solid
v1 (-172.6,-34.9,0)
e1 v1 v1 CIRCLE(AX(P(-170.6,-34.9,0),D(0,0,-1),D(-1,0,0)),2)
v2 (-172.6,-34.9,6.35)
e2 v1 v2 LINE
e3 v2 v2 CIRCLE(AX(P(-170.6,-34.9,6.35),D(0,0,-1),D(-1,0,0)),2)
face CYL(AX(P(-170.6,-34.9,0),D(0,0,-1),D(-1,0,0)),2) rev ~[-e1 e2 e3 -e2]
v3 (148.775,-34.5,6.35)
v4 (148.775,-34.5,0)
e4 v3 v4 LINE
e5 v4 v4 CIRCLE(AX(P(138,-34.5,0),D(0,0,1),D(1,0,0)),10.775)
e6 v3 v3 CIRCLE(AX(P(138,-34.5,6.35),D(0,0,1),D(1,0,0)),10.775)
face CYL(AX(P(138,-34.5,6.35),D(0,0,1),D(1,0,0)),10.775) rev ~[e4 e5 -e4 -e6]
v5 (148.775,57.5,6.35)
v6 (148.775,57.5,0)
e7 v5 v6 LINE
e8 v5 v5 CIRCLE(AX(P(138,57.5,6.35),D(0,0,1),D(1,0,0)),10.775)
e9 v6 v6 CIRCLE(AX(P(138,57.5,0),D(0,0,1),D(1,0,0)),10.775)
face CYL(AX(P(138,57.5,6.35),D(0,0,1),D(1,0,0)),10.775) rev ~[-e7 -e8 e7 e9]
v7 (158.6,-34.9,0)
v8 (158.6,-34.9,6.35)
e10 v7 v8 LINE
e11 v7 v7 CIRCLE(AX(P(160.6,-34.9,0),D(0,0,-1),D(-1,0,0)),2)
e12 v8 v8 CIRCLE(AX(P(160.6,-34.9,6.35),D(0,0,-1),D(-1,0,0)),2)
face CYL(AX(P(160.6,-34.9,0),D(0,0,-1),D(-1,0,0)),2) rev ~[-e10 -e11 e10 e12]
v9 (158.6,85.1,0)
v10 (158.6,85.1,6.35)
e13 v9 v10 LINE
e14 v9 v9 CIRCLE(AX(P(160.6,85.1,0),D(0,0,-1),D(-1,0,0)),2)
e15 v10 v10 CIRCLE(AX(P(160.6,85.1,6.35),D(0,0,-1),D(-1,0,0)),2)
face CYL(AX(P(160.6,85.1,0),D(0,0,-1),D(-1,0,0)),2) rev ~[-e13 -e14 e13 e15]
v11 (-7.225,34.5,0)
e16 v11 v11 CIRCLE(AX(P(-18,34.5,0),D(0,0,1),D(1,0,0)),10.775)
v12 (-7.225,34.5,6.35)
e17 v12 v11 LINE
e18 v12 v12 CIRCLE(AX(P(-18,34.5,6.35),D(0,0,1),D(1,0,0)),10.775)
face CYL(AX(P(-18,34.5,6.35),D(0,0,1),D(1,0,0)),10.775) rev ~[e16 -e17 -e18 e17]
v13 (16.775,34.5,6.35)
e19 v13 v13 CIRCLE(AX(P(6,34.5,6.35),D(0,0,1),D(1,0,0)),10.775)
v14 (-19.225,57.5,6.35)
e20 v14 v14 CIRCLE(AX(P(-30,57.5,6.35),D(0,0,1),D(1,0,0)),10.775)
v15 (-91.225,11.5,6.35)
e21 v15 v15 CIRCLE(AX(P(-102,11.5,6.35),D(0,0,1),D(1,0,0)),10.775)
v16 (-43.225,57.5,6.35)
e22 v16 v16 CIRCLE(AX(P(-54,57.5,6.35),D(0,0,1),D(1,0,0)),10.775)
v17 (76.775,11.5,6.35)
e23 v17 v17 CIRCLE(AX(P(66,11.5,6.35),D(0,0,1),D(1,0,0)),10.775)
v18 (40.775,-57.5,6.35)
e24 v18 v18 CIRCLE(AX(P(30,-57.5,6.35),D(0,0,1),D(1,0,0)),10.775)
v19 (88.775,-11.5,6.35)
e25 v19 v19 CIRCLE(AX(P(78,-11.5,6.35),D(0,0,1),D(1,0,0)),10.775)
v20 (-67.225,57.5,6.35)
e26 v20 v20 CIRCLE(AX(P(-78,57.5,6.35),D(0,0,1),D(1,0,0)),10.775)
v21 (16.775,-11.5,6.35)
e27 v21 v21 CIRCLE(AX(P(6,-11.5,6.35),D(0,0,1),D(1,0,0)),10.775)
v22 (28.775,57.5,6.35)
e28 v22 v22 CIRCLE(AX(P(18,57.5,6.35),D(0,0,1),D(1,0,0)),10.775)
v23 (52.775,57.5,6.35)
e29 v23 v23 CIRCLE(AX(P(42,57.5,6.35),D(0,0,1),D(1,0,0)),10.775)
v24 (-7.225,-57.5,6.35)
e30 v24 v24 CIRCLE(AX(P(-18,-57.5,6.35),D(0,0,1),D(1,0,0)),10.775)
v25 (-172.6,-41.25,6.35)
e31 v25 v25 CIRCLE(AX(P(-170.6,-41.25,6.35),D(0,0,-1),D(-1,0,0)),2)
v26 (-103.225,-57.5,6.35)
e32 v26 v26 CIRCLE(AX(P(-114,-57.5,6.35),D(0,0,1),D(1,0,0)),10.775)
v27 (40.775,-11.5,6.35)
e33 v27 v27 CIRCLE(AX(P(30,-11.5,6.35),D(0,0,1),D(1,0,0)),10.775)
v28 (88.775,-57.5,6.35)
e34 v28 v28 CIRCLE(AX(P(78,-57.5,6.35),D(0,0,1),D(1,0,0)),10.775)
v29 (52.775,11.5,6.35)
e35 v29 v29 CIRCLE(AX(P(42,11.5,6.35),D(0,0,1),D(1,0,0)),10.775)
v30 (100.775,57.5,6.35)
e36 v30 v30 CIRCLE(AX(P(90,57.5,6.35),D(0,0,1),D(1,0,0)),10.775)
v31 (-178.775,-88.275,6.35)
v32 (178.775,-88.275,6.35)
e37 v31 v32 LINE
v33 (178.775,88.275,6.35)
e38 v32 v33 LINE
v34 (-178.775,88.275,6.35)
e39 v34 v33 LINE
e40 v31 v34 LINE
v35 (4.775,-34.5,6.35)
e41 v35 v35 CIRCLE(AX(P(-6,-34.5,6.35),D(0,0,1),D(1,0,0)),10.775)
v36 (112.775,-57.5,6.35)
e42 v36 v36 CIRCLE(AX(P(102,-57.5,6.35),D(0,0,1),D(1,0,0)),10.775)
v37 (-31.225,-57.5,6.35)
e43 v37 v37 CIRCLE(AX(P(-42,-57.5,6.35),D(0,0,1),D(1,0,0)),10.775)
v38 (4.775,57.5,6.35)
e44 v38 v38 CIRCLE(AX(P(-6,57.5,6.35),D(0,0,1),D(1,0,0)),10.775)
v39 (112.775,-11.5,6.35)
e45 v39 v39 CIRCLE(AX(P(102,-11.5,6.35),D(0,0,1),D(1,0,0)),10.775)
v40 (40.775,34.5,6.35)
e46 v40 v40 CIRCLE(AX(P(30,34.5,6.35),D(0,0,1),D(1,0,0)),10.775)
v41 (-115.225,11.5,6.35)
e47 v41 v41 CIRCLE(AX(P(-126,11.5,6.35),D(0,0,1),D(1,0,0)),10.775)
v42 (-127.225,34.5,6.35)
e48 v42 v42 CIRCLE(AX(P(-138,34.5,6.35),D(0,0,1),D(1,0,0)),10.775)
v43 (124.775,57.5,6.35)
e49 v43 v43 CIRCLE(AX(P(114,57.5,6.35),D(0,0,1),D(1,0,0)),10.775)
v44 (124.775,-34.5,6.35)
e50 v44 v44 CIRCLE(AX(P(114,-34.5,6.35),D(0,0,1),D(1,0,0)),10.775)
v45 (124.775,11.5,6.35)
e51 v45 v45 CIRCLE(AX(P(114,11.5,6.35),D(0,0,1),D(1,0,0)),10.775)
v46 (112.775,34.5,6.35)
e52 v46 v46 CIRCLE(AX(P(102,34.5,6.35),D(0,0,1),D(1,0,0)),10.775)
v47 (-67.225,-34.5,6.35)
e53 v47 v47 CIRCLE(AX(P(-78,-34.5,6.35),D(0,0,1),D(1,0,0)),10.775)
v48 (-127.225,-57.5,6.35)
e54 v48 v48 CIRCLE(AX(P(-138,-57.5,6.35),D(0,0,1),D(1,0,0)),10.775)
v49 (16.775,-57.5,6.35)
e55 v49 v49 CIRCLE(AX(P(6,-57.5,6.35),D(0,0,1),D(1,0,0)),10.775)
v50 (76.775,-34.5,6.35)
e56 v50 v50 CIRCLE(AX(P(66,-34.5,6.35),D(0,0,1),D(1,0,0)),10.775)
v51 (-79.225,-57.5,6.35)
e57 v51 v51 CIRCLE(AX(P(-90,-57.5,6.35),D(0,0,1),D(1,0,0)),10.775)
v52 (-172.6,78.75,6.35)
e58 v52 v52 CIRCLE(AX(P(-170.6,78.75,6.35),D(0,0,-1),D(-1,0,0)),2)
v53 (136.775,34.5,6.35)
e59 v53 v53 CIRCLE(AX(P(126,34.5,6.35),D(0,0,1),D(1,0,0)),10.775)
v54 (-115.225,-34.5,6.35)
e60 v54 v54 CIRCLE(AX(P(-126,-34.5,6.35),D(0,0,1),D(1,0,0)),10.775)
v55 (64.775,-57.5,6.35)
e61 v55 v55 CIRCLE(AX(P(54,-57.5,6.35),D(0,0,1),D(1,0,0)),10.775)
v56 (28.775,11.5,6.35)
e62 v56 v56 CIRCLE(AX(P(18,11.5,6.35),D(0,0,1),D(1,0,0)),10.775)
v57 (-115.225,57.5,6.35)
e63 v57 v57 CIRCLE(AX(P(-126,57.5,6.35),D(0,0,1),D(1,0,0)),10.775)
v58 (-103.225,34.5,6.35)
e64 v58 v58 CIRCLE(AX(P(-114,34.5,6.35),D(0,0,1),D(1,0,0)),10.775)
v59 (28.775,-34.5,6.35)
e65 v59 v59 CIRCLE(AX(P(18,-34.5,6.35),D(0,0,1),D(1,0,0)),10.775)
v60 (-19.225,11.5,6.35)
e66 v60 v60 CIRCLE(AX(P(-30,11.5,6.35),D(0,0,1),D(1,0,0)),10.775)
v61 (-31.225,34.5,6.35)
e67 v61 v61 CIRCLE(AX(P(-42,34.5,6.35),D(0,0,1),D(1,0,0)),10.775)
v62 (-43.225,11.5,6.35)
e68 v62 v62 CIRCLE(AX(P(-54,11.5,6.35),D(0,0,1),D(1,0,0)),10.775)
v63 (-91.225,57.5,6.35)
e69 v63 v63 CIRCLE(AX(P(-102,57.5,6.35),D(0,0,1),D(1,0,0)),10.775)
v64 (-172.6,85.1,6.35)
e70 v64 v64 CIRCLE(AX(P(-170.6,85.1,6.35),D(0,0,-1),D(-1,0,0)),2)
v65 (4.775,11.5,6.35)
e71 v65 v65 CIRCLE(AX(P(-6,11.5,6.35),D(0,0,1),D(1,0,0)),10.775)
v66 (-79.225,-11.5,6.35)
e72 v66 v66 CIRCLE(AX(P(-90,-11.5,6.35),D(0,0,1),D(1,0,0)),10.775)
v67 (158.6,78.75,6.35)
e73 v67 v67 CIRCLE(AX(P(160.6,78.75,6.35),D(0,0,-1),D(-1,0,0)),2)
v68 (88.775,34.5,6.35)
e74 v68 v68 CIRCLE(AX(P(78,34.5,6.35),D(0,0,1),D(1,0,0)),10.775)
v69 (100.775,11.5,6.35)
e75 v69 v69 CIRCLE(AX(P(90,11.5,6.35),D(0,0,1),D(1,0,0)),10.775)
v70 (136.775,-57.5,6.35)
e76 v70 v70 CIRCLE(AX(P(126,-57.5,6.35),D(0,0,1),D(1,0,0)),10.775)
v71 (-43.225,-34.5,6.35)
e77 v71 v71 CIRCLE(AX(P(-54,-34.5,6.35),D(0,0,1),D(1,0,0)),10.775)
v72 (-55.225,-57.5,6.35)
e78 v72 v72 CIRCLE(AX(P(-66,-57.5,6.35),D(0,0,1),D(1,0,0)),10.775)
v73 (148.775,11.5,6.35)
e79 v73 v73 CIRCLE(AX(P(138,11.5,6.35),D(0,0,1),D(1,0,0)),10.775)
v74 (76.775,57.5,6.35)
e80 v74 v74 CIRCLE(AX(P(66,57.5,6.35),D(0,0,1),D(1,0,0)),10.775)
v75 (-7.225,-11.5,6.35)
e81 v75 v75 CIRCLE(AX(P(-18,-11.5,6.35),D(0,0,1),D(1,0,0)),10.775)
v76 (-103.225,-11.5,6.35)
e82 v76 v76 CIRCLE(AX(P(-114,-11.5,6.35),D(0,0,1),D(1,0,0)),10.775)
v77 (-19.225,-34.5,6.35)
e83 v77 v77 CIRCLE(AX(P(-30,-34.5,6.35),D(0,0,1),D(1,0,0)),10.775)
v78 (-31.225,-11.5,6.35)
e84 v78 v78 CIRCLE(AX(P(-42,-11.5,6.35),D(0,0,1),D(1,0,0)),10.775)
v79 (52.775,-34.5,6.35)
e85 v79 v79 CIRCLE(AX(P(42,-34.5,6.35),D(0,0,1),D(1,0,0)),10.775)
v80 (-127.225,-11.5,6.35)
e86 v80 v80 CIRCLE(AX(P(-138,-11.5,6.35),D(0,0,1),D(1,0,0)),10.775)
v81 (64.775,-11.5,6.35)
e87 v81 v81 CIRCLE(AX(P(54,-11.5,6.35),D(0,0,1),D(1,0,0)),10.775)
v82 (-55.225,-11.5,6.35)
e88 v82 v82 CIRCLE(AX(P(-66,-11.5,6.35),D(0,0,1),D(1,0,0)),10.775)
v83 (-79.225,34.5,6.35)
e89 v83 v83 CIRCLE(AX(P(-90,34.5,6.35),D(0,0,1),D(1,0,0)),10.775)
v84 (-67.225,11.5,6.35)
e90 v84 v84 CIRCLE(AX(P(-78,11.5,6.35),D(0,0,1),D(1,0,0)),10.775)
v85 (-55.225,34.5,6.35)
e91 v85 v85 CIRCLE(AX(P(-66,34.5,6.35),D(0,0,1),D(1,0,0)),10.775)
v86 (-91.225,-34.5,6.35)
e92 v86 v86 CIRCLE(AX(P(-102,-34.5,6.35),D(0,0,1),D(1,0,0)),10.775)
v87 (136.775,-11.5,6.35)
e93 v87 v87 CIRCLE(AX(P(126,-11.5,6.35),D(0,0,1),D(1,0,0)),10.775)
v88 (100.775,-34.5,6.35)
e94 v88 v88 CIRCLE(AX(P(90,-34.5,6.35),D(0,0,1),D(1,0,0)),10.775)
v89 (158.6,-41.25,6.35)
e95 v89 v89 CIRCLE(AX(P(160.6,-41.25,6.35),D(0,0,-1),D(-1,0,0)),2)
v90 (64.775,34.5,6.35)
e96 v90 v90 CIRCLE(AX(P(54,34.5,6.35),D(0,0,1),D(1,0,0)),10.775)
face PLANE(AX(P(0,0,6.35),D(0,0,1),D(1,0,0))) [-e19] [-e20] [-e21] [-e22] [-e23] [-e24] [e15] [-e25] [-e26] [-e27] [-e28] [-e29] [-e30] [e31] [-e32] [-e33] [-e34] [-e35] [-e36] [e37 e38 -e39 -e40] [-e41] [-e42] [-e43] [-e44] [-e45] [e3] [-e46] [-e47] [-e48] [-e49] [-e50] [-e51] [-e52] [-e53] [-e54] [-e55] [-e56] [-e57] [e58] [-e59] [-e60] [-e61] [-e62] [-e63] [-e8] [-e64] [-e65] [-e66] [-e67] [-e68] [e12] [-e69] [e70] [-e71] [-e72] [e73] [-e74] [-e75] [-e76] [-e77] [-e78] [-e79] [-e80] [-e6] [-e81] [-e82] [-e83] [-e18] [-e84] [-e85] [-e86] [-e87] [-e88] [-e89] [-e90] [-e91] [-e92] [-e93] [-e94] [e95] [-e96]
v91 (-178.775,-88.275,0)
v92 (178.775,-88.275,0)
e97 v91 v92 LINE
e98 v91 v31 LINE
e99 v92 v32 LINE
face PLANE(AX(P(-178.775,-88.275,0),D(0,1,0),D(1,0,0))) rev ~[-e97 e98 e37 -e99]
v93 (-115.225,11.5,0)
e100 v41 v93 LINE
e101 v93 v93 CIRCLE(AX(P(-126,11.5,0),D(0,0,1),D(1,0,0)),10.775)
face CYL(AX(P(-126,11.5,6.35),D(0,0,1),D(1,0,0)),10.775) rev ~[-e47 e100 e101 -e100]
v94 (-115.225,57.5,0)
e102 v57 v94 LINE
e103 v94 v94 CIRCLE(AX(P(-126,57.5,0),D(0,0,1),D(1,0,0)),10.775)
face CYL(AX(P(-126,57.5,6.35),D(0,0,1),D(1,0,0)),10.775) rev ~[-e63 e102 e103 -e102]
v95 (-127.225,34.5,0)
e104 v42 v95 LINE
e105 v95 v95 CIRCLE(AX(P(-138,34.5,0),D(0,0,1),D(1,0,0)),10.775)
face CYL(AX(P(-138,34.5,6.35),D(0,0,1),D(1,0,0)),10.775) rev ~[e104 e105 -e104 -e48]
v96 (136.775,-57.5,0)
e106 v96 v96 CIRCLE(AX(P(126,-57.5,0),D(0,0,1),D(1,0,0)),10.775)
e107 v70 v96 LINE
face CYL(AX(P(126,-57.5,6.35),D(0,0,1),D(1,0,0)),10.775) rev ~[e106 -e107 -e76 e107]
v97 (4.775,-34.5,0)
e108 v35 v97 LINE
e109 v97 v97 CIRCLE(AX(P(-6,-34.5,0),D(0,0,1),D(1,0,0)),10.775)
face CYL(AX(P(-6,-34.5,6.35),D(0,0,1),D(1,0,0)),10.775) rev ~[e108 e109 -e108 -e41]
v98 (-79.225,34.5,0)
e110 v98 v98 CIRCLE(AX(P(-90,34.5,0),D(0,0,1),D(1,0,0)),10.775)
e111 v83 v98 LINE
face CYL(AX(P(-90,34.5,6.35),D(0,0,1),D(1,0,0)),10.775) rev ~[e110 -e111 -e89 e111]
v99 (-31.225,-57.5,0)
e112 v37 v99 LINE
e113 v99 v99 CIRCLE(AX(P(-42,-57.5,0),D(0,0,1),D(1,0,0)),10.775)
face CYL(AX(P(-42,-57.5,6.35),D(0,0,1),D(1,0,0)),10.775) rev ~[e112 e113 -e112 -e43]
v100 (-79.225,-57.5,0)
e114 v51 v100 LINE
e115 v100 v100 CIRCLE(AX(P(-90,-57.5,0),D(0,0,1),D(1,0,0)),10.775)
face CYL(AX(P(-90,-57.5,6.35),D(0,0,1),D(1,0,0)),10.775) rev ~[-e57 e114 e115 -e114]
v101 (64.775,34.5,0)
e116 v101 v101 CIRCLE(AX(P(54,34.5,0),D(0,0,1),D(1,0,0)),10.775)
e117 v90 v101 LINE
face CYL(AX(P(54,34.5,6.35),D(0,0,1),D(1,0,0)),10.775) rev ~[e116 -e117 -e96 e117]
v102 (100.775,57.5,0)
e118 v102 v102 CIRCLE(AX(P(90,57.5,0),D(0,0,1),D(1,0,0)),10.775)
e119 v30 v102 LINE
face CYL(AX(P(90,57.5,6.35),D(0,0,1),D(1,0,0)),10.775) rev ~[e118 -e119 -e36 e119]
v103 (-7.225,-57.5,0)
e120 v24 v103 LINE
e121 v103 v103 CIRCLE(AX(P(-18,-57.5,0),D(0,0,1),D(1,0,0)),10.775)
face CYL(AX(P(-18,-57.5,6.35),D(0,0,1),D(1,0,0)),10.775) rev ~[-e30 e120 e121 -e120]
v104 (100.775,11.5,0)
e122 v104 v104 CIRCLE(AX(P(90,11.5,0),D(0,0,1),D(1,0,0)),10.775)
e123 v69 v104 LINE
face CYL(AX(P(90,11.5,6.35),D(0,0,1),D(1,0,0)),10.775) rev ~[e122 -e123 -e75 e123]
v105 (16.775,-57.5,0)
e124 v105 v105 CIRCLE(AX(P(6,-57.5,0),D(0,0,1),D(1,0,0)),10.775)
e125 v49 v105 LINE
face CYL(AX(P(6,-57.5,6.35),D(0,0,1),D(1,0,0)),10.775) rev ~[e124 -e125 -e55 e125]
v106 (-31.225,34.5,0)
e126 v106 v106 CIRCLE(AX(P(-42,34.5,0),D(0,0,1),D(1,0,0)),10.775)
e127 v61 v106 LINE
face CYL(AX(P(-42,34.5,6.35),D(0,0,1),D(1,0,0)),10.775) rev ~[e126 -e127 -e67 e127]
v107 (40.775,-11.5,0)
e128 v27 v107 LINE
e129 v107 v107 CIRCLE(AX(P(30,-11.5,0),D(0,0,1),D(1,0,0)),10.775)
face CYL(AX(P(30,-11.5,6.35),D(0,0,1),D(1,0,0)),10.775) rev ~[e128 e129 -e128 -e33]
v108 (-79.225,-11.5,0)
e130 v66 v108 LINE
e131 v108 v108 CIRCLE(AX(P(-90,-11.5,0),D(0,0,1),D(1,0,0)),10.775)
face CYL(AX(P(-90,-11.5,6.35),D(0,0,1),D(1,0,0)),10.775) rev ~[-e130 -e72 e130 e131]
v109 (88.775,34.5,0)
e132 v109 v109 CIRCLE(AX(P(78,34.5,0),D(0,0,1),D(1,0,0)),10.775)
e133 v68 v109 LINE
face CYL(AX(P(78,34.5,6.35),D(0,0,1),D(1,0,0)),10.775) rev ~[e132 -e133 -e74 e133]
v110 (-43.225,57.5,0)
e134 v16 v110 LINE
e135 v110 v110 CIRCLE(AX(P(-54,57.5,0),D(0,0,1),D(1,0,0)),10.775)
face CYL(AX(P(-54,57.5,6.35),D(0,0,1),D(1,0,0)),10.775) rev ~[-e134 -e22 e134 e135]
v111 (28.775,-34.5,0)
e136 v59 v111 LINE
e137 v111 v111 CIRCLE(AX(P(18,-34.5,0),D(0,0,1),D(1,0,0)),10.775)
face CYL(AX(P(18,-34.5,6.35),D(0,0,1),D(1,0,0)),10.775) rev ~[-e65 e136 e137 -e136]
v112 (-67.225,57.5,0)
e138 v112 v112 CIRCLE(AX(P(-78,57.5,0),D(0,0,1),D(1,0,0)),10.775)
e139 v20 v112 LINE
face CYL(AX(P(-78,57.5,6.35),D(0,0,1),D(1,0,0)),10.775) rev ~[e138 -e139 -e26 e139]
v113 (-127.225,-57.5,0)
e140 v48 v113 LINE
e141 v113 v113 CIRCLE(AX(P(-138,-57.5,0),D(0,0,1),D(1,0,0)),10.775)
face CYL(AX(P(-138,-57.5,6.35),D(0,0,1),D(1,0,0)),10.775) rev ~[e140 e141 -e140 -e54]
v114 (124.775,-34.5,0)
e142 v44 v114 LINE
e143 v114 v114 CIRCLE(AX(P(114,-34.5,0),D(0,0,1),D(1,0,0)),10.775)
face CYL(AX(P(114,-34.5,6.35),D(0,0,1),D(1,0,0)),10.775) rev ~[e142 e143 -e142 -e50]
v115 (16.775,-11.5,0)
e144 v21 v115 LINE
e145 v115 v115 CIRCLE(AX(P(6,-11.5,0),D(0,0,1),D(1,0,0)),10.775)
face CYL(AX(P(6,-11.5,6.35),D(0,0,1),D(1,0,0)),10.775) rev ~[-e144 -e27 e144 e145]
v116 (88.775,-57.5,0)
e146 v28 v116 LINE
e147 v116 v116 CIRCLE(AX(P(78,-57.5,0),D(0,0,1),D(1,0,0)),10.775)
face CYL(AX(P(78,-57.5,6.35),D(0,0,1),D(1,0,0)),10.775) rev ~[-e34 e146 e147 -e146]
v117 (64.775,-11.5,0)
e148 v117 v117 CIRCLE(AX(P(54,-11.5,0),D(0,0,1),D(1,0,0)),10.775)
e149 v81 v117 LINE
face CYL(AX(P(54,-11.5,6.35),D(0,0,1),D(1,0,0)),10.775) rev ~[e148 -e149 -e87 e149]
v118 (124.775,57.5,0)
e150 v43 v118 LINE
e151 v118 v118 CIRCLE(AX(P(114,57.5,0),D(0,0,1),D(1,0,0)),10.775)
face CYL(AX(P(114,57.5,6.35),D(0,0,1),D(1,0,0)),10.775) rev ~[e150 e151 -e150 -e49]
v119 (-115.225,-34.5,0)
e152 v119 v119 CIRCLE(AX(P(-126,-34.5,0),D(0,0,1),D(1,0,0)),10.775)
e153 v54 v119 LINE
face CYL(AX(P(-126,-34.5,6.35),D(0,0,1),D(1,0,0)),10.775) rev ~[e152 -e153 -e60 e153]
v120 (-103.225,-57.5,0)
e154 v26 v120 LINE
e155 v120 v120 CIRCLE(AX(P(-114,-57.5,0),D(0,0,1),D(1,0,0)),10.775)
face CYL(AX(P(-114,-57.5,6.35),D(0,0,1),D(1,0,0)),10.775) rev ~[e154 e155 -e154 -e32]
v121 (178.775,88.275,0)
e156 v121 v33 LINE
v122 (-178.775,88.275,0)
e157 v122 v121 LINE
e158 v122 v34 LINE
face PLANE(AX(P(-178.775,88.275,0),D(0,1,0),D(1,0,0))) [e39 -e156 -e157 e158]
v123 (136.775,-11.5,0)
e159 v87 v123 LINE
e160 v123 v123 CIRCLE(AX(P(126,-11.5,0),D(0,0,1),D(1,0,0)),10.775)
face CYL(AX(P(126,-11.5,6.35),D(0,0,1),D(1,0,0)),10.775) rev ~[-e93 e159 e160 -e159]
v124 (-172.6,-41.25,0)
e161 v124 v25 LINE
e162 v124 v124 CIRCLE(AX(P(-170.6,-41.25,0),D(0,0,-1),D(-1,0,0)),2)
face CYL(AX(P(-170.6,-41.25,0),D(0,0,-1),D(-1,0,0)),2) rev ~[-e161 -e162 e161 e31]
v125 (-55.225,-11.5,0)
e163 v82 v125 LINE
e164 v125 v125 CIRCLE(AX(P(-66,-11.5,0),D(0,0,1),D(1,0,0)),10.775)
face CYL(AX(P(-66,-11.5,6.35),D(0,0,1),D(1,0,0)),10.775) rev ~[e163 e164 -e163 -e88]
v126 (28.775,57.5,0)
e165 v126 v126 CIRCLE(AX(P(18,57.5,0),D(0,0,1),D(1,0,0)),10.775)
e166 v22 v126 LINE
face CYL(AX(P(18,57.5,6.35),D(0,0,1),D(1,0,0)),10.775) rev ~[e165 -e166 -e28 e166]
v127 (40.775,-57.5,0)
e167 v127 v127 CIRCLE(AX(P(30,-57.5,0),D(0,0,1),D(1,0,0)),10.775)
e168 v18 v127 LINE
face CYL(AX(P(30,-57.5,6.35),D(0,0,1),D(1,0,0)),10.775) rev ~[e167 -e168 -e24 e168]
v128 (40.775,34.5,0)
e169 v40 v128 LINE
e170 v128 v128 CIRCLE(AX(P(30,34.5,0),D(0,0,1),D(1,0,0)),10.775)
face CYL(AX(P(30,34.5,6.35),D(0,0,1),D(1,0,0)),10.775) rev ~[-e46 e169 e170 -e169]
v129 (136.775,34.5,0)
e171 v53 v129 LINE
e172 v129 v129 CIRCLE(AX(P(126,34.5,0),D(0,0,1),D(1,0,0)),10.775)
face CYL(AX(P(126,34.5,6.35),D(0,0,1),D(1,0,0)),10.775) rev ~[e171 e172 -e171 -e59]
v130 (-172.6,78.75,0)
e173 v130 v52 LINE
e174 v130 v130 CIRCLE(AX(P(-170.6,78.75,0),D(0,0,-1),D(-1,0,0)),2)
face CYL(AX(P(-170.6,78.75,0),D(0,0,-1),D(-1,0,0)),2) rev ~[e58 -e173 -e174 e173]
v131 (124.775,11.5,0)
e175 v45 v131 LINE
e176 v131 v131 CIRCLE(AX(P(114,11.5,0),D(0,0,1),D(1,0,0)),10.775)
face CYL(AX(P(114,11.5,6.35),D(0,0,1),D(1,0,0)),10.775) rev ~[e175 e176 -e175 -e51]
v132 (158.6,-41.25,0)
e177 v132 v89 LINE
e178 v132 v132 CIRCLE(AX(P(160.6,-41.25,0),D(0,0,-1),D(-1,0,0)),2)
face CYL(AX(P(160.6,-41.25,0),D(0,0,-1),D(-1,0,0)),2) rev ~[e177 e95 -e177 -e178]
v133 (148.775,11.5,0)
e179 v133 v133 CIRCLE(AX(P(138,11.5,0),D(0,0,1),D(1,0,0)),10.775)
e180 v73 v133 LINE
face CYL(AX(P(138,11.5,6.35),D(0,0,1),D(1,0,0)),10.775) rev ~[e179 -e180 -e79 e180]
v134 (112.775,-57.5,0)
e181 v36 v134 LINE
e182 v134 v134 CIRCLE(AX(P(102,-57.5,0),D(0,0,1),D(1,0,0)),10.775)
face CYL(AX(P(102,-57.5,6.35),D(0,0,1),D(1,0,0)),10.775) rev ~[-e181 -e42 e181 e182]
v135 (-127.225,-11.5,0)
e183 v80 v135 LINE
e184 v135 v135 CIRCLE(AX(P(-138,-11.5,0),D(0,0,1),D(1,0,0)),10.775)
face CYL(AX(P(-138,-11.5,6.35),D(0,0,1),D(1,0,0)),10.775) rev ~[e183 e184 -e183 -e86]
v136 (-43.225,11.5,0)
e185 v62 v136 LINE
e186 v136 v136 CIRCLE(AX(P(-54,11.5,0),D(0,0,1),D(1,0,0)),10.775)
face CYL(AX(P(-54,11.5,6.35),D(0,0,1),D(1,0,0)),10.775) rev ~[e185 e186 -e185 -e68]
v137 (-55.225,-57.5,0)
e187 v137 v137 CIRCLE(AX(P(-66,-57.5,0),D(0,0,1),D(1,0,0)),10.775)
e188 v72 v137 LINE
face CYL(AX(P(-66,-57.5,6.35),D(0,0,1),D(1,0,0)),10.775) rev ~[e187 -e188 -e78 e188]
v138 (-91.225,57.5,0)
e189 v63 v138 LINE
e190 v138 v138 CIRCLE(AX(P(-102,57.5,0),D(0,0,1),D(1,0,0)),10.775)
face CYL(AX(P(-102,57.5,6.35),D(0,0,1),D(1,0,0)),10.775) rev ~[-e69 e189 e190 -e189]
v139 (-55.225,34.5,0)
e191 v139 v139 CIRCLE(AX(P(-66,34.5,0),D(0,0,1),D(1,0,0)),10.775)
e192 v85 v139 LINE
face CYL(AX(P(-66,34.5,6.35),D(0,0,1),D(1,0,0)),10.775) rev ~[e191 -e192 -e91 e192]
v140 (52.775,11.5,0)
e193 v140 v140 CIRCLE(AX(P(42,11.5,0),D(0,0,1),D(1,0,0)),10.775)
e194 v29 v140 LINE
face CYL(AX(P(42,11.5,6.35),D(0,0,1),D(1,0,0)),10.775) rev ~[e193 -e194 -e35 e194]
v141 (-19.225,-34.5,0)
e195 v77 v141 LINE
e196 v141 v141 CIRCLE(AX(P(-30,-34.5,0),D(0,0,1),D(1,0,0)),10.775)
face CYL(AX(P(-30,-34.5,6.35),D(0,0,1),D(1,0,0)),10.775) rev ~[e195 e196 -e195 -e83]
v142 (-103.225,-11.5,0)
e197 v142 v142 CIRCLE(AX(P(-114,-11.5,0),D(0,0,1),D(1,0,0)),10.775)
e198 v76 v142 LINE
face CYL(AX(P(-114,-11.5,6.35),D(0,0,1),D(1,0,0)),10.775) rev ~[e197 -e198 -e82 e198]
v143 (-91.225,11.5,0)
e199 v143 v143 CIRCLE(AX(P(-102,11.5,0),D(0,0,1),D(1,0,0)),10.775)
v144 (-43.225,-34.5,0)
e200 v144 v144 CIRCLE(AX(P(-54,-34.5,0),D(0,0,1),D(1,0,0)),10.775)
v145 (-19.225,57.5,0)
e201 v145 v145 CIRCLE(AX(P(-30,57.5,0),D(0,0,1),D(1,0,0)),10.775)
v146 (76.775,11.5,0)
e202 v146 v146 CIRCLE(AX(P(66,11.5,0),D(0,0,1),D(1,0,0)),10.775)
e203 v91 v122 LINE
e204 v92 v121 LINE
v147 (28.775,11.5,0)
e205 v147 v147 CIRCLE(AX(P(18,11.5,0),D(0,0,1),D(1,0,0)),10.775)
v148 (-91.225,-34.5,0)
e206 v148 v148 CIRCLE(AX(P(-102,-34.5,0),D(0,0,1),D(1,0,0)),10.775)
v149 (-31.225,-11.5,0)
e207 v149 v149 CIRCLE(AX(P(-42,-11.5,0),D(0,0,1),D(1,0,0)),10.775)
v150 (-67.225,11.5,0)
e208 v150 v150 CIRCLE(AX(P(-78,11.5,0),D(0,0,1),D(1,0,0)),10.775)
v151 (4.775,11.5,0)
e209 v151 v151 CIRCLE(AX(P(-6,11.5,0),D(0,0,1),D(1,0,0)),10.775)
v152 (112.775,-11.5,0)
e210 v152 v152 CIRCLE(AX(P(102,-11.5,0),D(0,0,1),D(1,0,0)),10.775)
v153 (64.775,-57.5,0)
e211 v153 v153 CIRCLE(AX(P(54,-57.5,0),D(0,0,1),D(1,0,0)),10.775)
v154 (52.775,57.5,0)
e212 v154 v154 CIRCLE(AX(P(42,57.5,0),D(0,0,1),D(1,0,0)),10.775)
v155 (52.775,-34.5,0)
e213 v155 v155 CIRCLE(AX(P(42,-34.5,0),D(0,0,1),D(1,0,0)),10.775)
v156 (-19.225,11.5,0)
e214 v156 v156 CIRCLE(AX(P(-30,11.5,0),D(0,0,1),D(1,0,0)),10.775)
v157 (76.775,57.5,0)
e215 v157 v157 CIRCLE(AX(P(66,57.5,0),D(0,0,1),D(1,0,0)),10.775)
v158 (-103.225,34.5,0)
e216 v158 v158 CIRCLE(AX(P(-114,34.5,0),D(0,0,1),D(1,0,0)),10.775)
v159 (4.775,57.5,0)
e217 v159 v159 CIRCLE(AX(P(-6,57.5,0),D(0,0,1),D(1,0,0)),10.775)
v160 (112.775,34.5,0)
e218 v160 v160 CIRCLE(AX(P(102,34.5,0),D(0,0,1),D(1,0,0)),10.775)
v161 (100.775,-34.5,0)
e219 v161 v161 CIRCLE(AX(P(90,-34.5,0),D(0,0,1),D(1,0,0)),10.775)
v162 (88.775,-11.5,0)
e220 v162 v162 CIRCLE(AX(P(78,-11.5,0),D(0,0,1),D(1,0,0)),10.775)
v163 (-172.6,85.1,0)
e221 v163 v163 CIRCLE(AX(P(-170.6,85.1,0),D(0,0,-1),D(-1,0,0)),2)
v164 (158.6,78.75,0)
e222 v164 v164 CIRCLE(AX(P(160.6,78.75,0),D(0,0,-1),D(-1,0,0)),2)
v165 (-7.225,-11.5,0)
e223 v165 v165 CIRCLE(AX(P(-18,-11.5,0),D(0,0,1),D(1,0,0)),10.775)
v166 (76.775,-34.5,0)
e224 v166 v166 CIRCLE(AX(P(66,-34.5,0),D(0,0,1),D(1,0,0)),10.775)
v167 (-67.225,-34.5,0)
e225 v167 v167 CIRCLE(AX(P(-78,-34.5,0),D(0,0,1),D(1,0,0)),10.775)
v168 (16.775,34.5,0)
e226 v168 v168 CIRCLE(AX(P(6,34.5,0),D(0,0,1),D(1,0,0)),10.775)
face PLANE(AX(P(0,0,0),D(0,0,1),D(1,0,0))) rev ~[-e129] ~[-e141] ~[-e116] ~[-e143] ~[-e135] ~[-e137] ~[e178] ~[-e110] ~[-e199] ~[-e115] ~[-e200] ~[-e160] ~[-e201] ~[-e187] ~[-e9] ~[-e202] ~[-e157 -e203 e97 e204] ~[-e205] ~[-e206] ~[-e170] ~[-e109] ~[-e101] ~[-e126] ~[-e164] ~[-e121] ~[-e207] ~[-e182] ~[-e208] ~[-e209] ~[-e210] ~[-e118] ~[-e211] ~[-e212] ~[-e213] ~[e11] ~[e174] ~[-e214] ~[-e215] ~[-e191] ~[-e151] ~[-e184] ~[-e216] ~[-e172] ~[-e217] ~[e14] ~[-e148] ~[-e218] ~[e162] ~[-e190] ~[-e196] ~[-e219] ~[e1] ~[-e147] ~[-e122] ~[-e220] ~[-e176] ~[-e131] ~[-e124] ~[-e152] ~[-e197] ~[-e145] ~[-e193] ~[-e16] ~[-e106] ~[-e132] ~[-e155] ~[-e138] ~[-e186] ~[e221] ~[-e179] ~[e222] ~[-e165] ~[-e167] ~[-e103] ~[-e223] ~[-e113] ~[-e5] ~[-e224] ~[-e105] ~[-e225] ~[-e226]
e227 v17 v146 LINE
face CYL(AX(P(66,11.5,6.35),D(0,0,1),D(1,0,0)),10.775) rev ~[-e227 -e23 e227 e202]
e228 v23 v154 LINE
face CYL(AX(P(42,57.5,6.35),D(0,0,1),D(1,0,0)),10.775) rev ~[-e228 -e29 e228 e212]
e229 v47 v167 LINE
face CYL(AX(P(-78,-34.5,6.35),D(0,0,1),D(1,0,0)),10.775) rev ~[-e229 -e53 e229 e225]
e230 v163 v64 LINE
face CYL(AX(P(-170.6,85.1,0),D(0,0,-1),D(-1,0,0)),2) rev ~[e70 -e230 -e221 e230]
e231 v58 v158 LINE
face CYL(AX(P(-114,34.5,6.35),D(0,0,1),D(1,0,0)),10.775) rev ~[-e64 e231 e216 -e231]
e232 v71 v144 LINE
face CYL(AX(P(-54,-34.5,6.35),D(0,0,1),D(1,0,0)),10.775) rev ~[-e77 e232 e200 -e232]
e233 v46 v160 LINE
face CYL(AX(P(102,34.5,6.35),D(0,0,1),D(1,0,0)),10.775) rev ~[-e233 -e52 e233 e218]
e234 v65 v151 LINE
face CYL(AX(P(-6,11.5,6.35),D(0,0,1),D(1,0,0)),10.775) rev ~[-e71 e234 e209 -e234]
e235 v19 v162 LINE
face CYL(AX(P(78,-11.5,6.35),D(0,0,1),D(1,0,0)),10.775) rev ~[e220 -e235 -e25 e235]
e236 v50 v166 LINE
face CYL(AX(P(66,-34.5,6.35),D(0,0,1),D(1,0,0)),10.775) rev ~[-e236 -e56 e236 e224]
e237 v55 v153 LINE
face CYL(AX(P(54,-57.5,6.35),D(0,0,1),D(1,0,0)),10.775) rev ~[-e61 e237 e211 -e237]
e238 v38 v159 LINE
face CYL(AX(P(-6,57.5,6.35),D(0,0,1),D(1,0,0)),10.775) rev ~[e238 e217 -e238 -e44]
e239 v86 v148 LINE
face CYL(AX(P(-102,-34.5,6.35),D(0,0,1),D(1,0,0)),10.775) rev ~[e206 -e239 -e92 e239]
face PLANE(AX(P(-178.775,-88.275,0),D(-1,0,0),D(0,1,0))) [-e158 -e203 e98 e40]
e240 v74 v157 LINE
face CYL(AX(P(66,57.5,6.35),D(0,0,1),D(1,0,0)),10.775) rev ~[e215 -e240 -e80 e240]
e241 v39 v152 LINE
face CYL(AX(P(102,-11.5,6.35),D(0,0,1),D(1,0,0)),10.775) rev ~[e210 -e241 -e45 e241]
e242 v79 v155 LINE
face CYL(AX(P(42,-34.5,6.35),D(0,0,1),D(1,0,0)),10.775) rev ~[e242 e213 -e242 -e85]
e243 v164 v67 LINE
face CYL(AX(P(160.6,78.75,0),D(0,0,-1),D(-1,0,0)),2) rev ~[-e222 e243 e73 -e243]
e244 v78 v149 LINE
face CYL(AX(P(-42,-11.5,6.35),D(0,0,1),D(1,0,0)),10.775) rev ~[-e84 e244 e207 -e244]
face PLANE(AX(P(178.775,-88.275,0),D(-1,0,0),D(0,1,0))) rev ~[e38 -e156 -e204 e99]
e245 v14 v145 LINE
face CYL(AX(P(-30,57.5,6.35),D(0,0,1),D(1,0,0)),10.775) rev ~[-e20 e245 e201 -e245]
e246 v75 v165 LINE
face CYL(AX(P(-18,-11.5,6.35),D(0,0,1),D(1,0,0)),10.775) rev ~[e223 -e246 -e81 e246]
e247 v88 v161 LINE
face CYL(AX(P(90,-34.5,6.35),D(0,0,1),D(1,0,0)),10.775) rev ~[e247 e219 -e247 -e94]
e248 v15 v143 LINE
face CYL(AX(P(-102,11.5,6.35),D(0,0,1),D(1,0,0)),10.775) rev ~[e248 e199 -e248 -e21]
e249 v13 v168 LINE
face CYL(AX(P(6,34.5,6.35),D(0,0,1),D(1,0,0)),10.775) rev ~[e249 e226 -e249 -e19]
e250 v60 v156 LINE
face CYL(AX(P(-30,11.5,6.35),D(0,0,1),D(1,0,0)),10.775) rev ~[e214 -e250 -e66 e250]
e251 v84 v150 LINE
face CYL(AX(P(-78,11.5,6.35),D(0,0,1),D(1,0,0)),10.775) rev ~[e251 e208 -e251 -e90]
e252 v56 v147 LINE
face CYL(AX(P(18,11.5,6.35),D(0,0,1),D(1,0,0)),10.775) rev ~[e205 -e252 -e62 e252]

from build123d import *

# Parameters (mm, degrees)
SKETCH1_W                  = 357.55
SKETCH1_H                  = 176.55
BOSS_EXTRUDE1_DEPTH        = 6.35
SKETCH3_R                  = 10.775
CUT_EXTRUDE1_DEPTH         = 200.48257756
SKETCH4_R                  = 10.775
CUT_EXTRUDE2_DEPTH         = 200.48257756
LPATTERN1_COUNT            = 12
LPATTERN1_PITCH            = 24
LPATTERN2_COUNT            = 3
LPATTERN2_PITCH            = 46
LPATTERN2_COPY_1_SKETCH_R  = 10.775
LPATTERN2_COPY_1_DEPTH     = 200.48257756
LPATTERN2_COPY_2_SKETCH_R  = 10.775
LPATTERN2_COPY_2_DEPTH     = 200.48257756
LPATTERN2_COPY_3_SKETCH_R  = 10.775
LPATTERN2_COPY_3_DEPTH     = 200.48257756
LPATTERN2_COPY_4_SKETCH_R  = 10.775
LPATTERN2_COPY_4_DEPTH     = 200.48257756
LPATTERN2_COPY_5_SKETCH_R  = 10.775
LPATTERN2_COPY_5_DEPTH     = 200.48257756
LPATTERN2_COPY_6_SKETCH_R  = 10.775
LPATTERN2_COPY_6_DEPTH     = 200.48257756
LPATTERN2_COPY_7_SKETCH_R  = 10.775
LPATTERN2_COPY_7_DEPTH     = 200.48257756
LPATTERN2_COPY_8_SKETCH_R  = 10.775
LPATTERN2_COPY_8_DEPTH     = 200.48257756
LPATTERN2_COPY_9_SKETCH_R  = 10.775
LPATTERN2_COPY_9_DEPTH     = 200.48257756
LPATTERN2_COPY_10_SKETCH_R = 10.775
LPATTERN2_COPY_10_DEPTH    = 200.48257756
LPATTERN2_COPY_11_SKETCH_R = 10.775
LPATTERN2_COPY_11_DEPTH    = 200.48257756
LPATTERN2_COPY_12_SKETCH_R = 10.775
LPATTERN2_COPY_12_DEPTH    = 200.48257756
LPATTERN2_COPY_13_SKETCH_R = 10.775
LPATTERN2_COPY_13_DEPTH    = 200.48257756
LPATTERN2_COPY_14_SKETCH_R = 10.775
LPATTERN2_COPY_14_DEPTH    = 200.48257756
LPATTERN2_COPY_15_SKETCH_R = 10.775
LPATTERN2_COPY_15_DEPTH    = 200.48257756
LPATTERN2_COPY_16_SKETCH_R = 10.775
LPATTERN2_COPY_16_DEPTH    = 200.48257756
LPATTERN2_COPY_17_SKETCH_R = 10.775
LPATTERN2_COPY_17_DEPTH    = 200.48257756
LPATTERN2_COPY_18_SKETCH_R = 10.775
LPATTERN2_COPY_18_DEPTH    = 200.48257756
LPATTERN2_COPY_19_SKETCH_R = 10.775
LPATTERN2_COPY_19_DEPTH    = 200.48257756
LPATTERN2_COPY_20_SKETCH_R = 10.775
LPATTERN2_COPY_20_DEPTH    = 200.48257756
LPATTERN2_COPY_21_SKETCH_R = 10.775
LPATTERN2_COPY_21_DEPTH    = 200.48257756
LPATTERN2_COPY_22_SKETCH_R = 10.775
LPATTERN2_COPY_22_DEPTH    = 200.48257756
LPATTERN2_COPY_23_SKETCH_R = 10.775
LPATTERN2_COPY_23_DEPTH    = 200.48257756
LPATTERN2_COPY_24_SKETCH_R = 10.775
LPATTERN2_COPY_24_DEPTH    = 200.48257756
LPATTERN2_COPY_25_SKETCH_R = 10.775
LPATTERN2_COPY_25_DEPTH    = 200.48257756
LPATTERN2_COPY_26_SKETCH_R = 10.775
LPATTERN2_COPY_26_DEPTH    = 200.48257756
LPATTERN2_COPY_27_SKETCH_R = 10.775
LPATTERN2_COPY_27_DEPTH    = 200.48257756
LPATTERN2_COPY_28_SKETCH_R = 10.775
LPATTERN2_COPY_28_DEPTH    = 200.48257756
LPATTERN2_COPY_29_SKETCH_R = 10.775
LPATTERN2_COPY_29_DEPTH    = 200.48257756
LPATTERN2_COPY_30_SKETCH_R = 10.775
LPATTERN2_COPY_30_DEPTH    = 200.48257756
LPATTERN2_COPY_31_SKETCH_R = 10.775
LPATTERN2_COPY_31_DEPTH    = 200.48257756
LPATTERN2_COPY_32_SKETCH_R = 10.775
LPATTERN2_COPY_32_DEPTH    = 200.48257756
LPATTERN2_COPY_33_SKETCH_R = 10.775
LPATTERN2_COPY_33_DEPTH    = 200.48257756
LPATTERN2_COPY_34_SKETCH_R = 10.775
LPATTERN2_COPY_34_DEPTH    = 200.48257756
LPATTERN2_COPY_35_SKETCH_R = 10.775
LPATTERN2_COPY_35_DEPTH    = 200.48257756
LPATTERN2_COPY_36_SKETCH_R = 10.775
LPATTERN2_COPY_36_DEPTH    = 200.48257756
LPATTERN2_COPY_37_SKETCH_R = 10.775
LPATTERN2_COPY_37_DEPTH    = 200.48257756
LPATTERN2_COPY_38_SKETCH_R = 10.775
LPATTERN2_COPY_38_DEPTH    = 200.48257756
LPATTERN2_COPY_39_SKETCH_R = 10.775
LPATTERN2_COPY_39_DEPTH    = 200.48257756
LPATTERN2_COPY_40_SKETCH_R = 10.775
LPATTERN2_COPY_40_DEPTH    = 200.48257756
LPATTERN2_COPY_41_SKETCH_R = 10.775
LPATTERN2_COPY_41_DEPTH    = 200.48257756
LPATTERN2_COPY_42_SKETCH_R = 10.775
LPATTERN2_COPY_42_DEPTH    = 200.48257756
LPATTERN2_COPY_43_SKETCH_R = 10.775
LPATTERN2_COPY_43_DEPTH    = 200.48257756
LPATTERN2_COPY_44_SKETCH_R = 10.775
LPATTERN2_COPY_44_DEPTH    = 200.48257756
SKETCH5_R                  = 2
CUT_EXTRUDE3_DEPTH         = 200.48257756


with BuildPart() as part:
    # Sketch1 → Boss-Extrude1 (new body)
    with BuildSketch(Plane.XY):
        Rectangle(SKETCH1_W, SKETCH1_H)
    extrude(amount=BOSS_EXTRUDE1_DEPTH)

    # Sketch3 → Cut-Extrude1 (cut, through all)
    with BuildSketch(Plane.XY.offset(6.35)):
        with Locations((-138, -57.5)):
            Circle(SKETCH3_R)
    cut_extrude1 = extrude(amount=-CUT_EXTRUDE1_DEPTH, mode=Mode.SUBTRACT)

    # Sketch4 → Cut-Extrude2 (cut, through all)
    with BuildSketch(Plane.XY.offset(6.35)):
        with Locations((-126, -34.5)):
            Circle(SKETCH4_R)
    cut_extrude2 = extrude(amount=-CUT_EXTRUDE2_DEPTH, mode=Mode.SUBTRACT)

    # LPattern1: Cut-Extrude1, Cut-Extrude2 ×12
    with Locations(*[(i * LPATTERN1_PITCH, 0, 0) for i in range(1, LPATTERN1_COUNT)]):
        add(cut_extrude1, mode=Mode.SUBTRACT)
        add(cut_extrude2, mode=Mode.SUBTRACT)

    # LPattern2: Cut-Extrude1, Cut-Extrude2 ×3
    with Locations(*[(0, i * LPATTERN2_PITCH, 0) for i in range(1, LPATTERN2_COUNT)]):
        add(cut_extrude1, mode=Mode.SUBTRACT)
        add(cut_extrude2, mode=Mode.SUBTRACT)

    # LPattern2 copy 1 sketch → LPattern2 copy 1 (cut, through all)
    with BuildSketch(Plane(origin=(24, 46, 6.35), x_dir=(1, 0, 0), z_dir=(0, 0, 1))):
        with Locations((-138, -57.5)):
            Circle(LPATTERN2_COPY_1_SKETCH_R)
    extrude(amount=-LPATTERN2_COPY_1_DEPTH, mode=Mode.SUBTRACT)

    # LPattern2 copy 2 sketch → LPattern2 copy 2 (cut, through all)
    with BuildSketch(Plane(origin=(24, 92, 6.35), x_dir=(1, 0, 0), z_dir=(0, 0, 1))):
        with Locations((-138, -57.5)):
            Circle(LPATTERN2_COPY_2_SKETCH_R)
    extrude(amount=-LPATTERN2_COPY_2_DEPTH, mode=Mode.SUBTRACT)

    # LPattern2 copy 3 sketch → LPattern2 copy 3 (cut, through all)
    with BuildSketch(Plane(origin=(48, 46, 6.35), x_dir=(1, 0, 0), z_dir=(0, 0, 1))):
        with Locations((-138, -57.5)):
            Circle(LPATTERN2_COPY_3_SKETCH_R)
    extrude(amount=-LPATTERN2_COPY_3_DEPTH, mode=Mode.SUBTRACT)

    # LPattern2 copy 4 sketch → LPattern2 copy 4 (cut, through all)
    with BuildSketch(Plane(origin=(48, 92, 6.35), x_dir=(1, 0, 0), z_dir=(0, 0, 1))):
        with Locations((-138, -57.5)):
            Circle(LPATTERN2_COPY_4_SKETCH_R)
    extrude(amount=-LPATTERN2_COPY_4_DEPTH, mode=Mode.SUBTRACT)

    # LPattern2 copy 5 sketch → LPattern2 copy 5 (cut, through all)
    with BuildSketch(Plane(origin=(72, 46, 6.35), x_dir=(1, 0, 0), z_dir=(0, 0, 1))):
        with Locations((-138, -57.5)):
            Circle(LPATTERN2_COPY_5_SKETCH_R)
    extrude(amount=-LPATTERN2_COPY_5_DEPTH, mode=Mode.SUBTRACT)

    # LPattern2 copy 6 sketch → LPattern2 copy 6 (cut, through all)
    with BuildSketch(Plane(origin=(72, 92, 6.35), x_dir=(1, 0, 0), z_dir=(0, 0, 1))):
        with Locations((-138, -57.5)):
            Circle(LPATTERN2_COPY_6_SKETCH_R)
    extrude(amount=-LPATTERN2_COPY_6_DEPTH, mode=Mode.SUBTRACT)

    # LPattern2 copy 7 sketch → LPattern2 copy 7 (cut, through all)
    with BuildSketch(Plane(origin=(96, 46, 6.35), x_dir=(1, 0, 0), z_dir=(0, 0, 1))):
        with Locations((-138, -57.5)):
            Circle(LPATTERN2_COPY_7_SKETCH_R)
    extrude(amount=-LPATTERN2_COPY_7_DEPTH, mode=Mode.SUBTRACT)

    # LPattern2 copy 8 sketch → LPattern2 copy 8 (cut, through all)
    with BuildSketch(Plane(origin=(96, 92, 6.35), x_dir=(1, 0, 0), z_dir=(0, 0, 1))):
        with Locations((-138, -57.5)):
            Circle(LPATTERN2_COPY_8_SKETCH_R)
    extrude(amount=-LPATTERN2_COPY_8_DEPTH, mode=Mode.SUBTRACT)

    # LPattern2 copy 9 sketch → LPattern2 copy 9 (cut, through all)
    with BuildSketch(Plane(origin=(120, 46, 6.35), x_dir=(1, 0, 0), z_dir=(0, 0, 1))):
        with Locations((-138, -57.5)):
            Circle(LPATTERN2_COPY_9_SKETCH_R)
    extrude(amount=-LPATTERN2_COPY_9_DEPTH, mode=Mode.SUBTRACT)

    # LPattern2 copy 10 sketch → LPattern2 copy 10 (cut, through all)
    with BuildSketch(Plane(origin=(120, 92, 6.35), x_dir=(1, 0, 0), z_dir=(0, 0, 1))):
        with Locations((-138, -57.5)):
            Circle(LPATTERN2_COPY_10_SKETCH_R)
    extrude(amount=-LPATTERN2_COPY_10_DEPTH, mode=Mode.SUBTRACT)

    # LPattern2 copy 11 sketch → LPattern2 copy 11 (cut, through all)
    with BuildSketch(Plane(origin=(144, 46, 6.35), x_dir=(1, 0, 0), z_dir=(0, 0, 1))):
        with Locations((-138, -57.5)):
            Circle(LPATTERN2_COPY_11_SKETCH_R)
    extrude(amount=-LPATTERN2_COPY_11_DEPTH, mode=Mode.SUBTRACT)

    # LPattern2 copy 12 sketch → LPattern2 copy 12 (cut, through all)
    with BuildSketch(Plane(origin=(144, 92, 6.35), x_dir=(1, 0, 0), z_dir=(0, 0, 1))):
        with Locations((-138, -57.5)):
            Circle(LPATTERN2_COPY_12_SKETCH_R)
    extrude(amount=-LPATTERN2_COPY_12_DEPTH, mode=Mode.SUBTRACT)

    # LPattern2 copy 13 sketch → LPattern2 copy 13 (cut, through all)
    with BuildSketch(Plane(origin=(168, 46, 6.35), x_dir=(1, 0, 0), z_dir=(0, 0, 1))):
        with Locations((-138, -57.5)):
            Circle(LPATTERN2_COPY_13_SKETCH_R)
    extrude(amount=-LPATTERN2_COPY_13_DEPTH, mode=Mode.SUBTRACT)

    # LPattern2 copy 14 sketch → LPattern2 copy 14 (cut, through all)
    with BuildSketch(Plane(origin=(168, 92, 6.35), x_dir=(1, 0, 0), z_dir=(0, 0, 1))):
        with Locations((-138, -57.5)):
            Circle(LPATTERN2_COPY_14_SKETCH_R)
    extrude(amount=-LPATTERN2_COPY_14_DEPTH, mode=Mode.SUBTRACT)

    # LPattern2 copy 15 sketch → LPattern2 copy 15 (cut, through all)
    with BuildSketch(Plane(origin=(192, 46, 6.35), x_dir=(1, 0, 0), z_dir=(0, 0, 1))):
        with Locations((-138, -57.5)):
            Circle(LPATTERN2_COPY_15_SKETCH_R)
    extrude(amount=-LPATTERN2_COPY_15_DEPTH, mode=Mode.SUBTRACT)

    # LPattern2 copy 16 sketch → LPattern2 copy 16 (cut, through all)
    with BuildSketch(Plane(origin=(192, 92, 6.35), x_dir=(1, 0, 0), z_dir=(0, 0, 1))):
        with Locations((-138, -57.5)):
            Circle(LPATTERN2_COPY_16_SKETCH_R)
    extrude(amount=-LPATTERN2_COPY_16_DEPTH, mode=Mode.SUBTRACT)

    # LPattern2 copy 17 sketch → LPattern2 copy 17 (cut, through all)
    with BuildSketch(Plane(origin=(216, 46, 6.35), x_dir=(1, 0, 0), z_dir=(0, 0, 1))):
        with Locations((-138, -57.5)):
            Circle(LPATTERN2_COPY_17_SKETCH_R)
    extrude(amount=-LPATTERN2_COPY_17_DEPTH, mode=Mode.SUBTRACT)

    # LPattern2 copy 18 sketch → LPattern2 copy 18 (cut, through all)
    with BuildSketch(Plane(origin=(216, 92, 6.35), x_dir=(1, 0, 0), z_dir=(0, 0, 1))):
        with Locations((-138, -57.5)):
            Circle(LPATTERN2_COPY_18_SKETCH_R)
    extrude(amount=-LPATTERN2_COPY_18_DEPTH, mode=Mode.SUBTRACT)

    # LPattern2 copy 19 sketch → LPattern2 copy 19 (cut, through all)
    with BuildSketch(Plane(origin=(240, 46, 6.35), x_dir=(1, 0, 0), z_dir=(0, 0, 1))):
        with Locations((-138, -57.5)):
            Circle(LPATTERN2_COPY_19_SKETCH_R)
    extrude(amount=-LPATTERN2_COPY_19_DEPTH, mode=Mode.SUBTRACT)

    # LPattern2 copy 20 sketch → LPattern2 copy 20 (cut, through all)
    with BuildSketch(Plane(origin=(240, 92, 6.35), x_dir=(1, 0, 0), z_dir=(0, 0, 1))):
        with Locations((-138, -57.5)):
            Circle(LPATTERN2_COPY_20_SKETCH_R)
    extrude(amount=-LPATTERN2_COPY_20_DEPTH, mode=Mode.SUBTRACT)

    # LPattern2 copy 21 sketch → LPattern2 copy 21 (cut, through all)
    with BuildSketch(Plane(origin=(264, 46, 6.35), x_dir=(1, 0, 0), z_dir=(0, 0, 1))):
        with Locations((-138, -57.5)):
            Circle(LPATTERN2_COPY_21_SKETCH_R)
    extrude(amount=-LPATTERN2_COPY_21_DEPTH, mode=Mode.SUBTRACT)

    # LPattern2 copy 22 sketch → LPattern2 copy 22 (cut, through all)
    with BuildSketch(Plane(origin=(264, 92, 6.35), x_dir=(1, 0, 0), z_dir=(0, 0, 1))):
        with Locations((-138, -57.5)):
            Circle(LPATTERN2_COPY_22_SKETCH_R)
    extrude(amount=-LPATTERN2_COPY_22_DEPTH, mode=Mode.SUBTRACT)

    # LPattern2 copy 23 sketch → LPattern2 copy 23 (cut, through all)
    with BuildSketch(Plane(origin=(24, 46, 6.35), x_dir=(1, 0, 0), z_dir=(0, 0, 1))):
        with Locations((-126, -34.5)):
            Circle(LPATTERN2_COPY_23_SKETCH_R)
    extrude(amount=-LPATTERN2_COPY_23_DEPTH, mode=Mode.SUBTRACT)

    # LPattern2 copy 24 sketch → LPattern2 copy 24 (cut, through all)
    with BuildSketch(Plane(origin=(24, 92, 6.35), x_dir=(1, 0, 0), z_dir=(0, 0, 1))):
        with Locations((-126, -34.5)):
            Circle(LPATTERN2_COPY_24_SKETCH_R)
    extrude(amount=-LPATTERN2_COPY_24_DEPTH, mode=Mode.SUBTRACT)

    # LPattern2 copy 25 sketch → LPattern2 copy 25 (cut, through all)
    with BuildSketch(Plane(origin=(48, 46, 6.35), x_dir=(1, 0, 0), z_dir=(0, 0, 1))):
        with Locations((-126, -34.5)):
            Circle(LPATTERN2_COPY_25_SKETCH_R)
    extrude(amount=-LPATTERN2_COPY_25_DEPTH, mode=Mode.SUBTRACT)

    # LPattern2 copy 26 sketch → LPattern2 copy 26 (cut, through all)
    with BuildSketch(Plane(origin=(48, 92, 6.35), x_dir=(1, 0, 0), z_dir=(0, 0, 1))):
        with Locations((-126, -34.5)):
            Circle(LPATTERN2_COPY_26_SKETCH_R)
    extrude(amount=-LPATTERN2_COPY_26_DEPTH, mode=Mode.SUBTRACT)

    # LPattern2 copy 27 sketch → LPattern2 copy 27 (cut, through all)
    with BuildSketch(Plane(origin=(72, 46, 6.35), x_dir=(1, 0, 0), z_dir=(0, 0, 1))):
        with Locations((-126, -34.5)):
            Circle(LPATTERN2_COPY_27_SKETCH_R)
    extrude(amount=-LPATTERN2_COPY_27_DEPTH, mode=Mode.SUBTRACT)

    # LPattern2 copy 28 sketch → LPattern2 copy 28 (cut, through all)
    with BuildSketch(Plane(origin=(72, 92, 6.35), x_dir=(1, 0, 0), z_dir=(0, 0, 1))):
        with Locations((-126, -34.5)):
            Circle(LPATTERN2_COPY_28_SKETCH_R)
    extrude(amount=-LPATTERN2_COPY_28_DEPTH, mode=Mode.SUBTRACT)

    # LPattern2 copy 29 sketch → LPattern2 copy 29 (cut, through all)
    with BuildSketch(Plane(origin=(96, 46, 6.35), x_dir=(1, 0, 0), z_dir=(0, 0, 1))):
        with Locations((-126, -34.5)):
            Circle(LPATTERN2_COPY_29_SKETCH_R)
    extrude(amount=-LPATTERN2_COPY_29_DEPTH, mode=Mode.SUBTRACT)

    # LPattern2 copy 30 sketch → LPattern2 copy 30 (cut, through all)
    with BuildSketch(Plane(origin=(96, 92, 6.35), x_dir=(1, 0, 0), z_dir=(0, 0, 1))):
        with Locations((-126, -34.5)):
            Circle(LPATTERN2_COPY_30_SKETCH_R)
    extrude(amount=-LPATTERN2_COPY_30_DEPTH, mode=Mode.SUBTRACT)

    # LPattern2 copy 31 sketch → LPattern2 copy 31 (cut, through all)
    with BuildSketch(Plane(origin=(120, 46, 6.35), x_dir=(1, 0, 0), z_dir=(0, 0, 1))):
        with Locations((-126, -34.5)):
            Circle(LPATTERN2_COPY_31_SKETCH_R)
    extrude(amount=-LPATTERN2_COPY_31_DEPTH, mode=Mode.SUBTRACT)

    # LPattern2 copy 32 sketch → LPattern2 copy 32 (cut, through all)
    with BuildSketch(Plane(origin=(120, 92, 6.35), x_dir=(1, 0, 0), z_dir=(0, 0, 1))):
        with Locations((-126, -34.5)):
            Circle(LPATTERN2_COPY_32_SKETCH_R)
    extrude(amount=-LPATTERN2_COPY_32_DEPTH, mode=Mode.SUBTRACT)

    # LPattern2 copy 33 sketch → LPattern2 copy 33 (cut, through all)
    with BuildSketch(Plane(origin=(144, 46, 6.35), x_dir=(1, 0, 0), z_dir=(0, 0, 1))):
        with Locations((-126, -34.5)):
            Circle(LPATTERN2_COPY_33_SKETCH_R)
    extrude(amount=-LPATTERN2_COPY_33_DEPTH, mode=Mode.SUBTRACT)

    # LPattern2 copy 34 sketch → LPattern2 copy 34 (cut, through all)
    with BuildSketch(Plane(origin=(144, 92, 6.35), x_dir=(1, 0, 0), z_dir=(0, 0, 1))):
        with Locations((-126, -34.5)):
            Circle(LPATTERN2_COPY_34_SKETCH_R)
    extrude(amount=-LPATTERN2_COPY_34_DEPTH, mode=Mode.SUBTRACT)

    # LPattern2 copy 35 sketch → LPattern2 copy 35 (cut, through all)
    with BuildSketch(Plane(origin=(168, 46, 6.35), x_dir=(1, 0, 0), z_dir=(0, 0, 1))):
        with Locations((-126, -34.5)):
            Circle(LPATTERN2_COPY_35_SKETCH_R)
    extrude(amount=-LPATTERN2_COPY_35_DEPTH, mode=Mode.SUBTRACT)

    # LPattern2 copy 36 sketch → LPattern2 copy 36 (cut, through all)
    with BuildSketch(Plane(origin=(168, 92, 6.35), x_dir=(1, 0, 0), z_dir=(0, 0, 1))):
        with Locations((-126, -34.5)):
            Circle(LPATTERN2_COPY_36_SKETCH_R)
    extrude(amount=-LPATTERN2_COPY_36_DEPTH, mode=Mode.SUBTRACT)

    # LPattern2 copy 37 sketch → LPattern2 copy 37 (cut, through all)
    with BuildSketch(Plane(origin=(192, 46, 6.35), x_dir=(1, 0, 0), z_dir=(0, 0, 1))):
        with Locations((-126, -34.5)):
            Circle(LPATTERN2_COPY_37_SKETCH_R)
    extrude(amount=-LPATTERN2_COPY_37_DEPTH, mode=Mode.SUBTRACT)

    # LPattern2 copy 38 sketch → LPattern2 copy 38 (cut, through all)
    with BuildSketch(Plane(origin=(192, 92, 6.35), x_dir=(1, 0, 0), z_dir=(0, 0, 1))):
        with Locations((-126, -34.5)):
            Circle(LPATTERN2_COPY_38_SKETCH_R)
    extrude(amount=-LPATTERN2_COPY_38_DEPTH, mode=Mode.SUBTRACT)

    # LPattern2 copy 39 sketch → LPattern2 copy 39 (cut, through all)
    with BuildSketch(Plane(origin=(216, 46, 6.35), x_dir=(1, 0, 0), z_dir=(0, 0, 1))):
        with Locations((-126, -34.5)):
            Circle(LPATTERN2_COPY_39_SKETCH_R)
    extrude(amount=-LPATTERN2_COPY_39_DEPTH, mode=Mode.SUBTRACT)

    # LPattern2 copy 40 sketch → LPattern2 copy 40 (cut, through all)
    with BuildSketch(Plane(origin=(216, 92, 6.35), x_dir=(1, 0, 0), z_dir=(0, 0, 1))):
        with Locations((-126, -34.5)):
            Circle(LPATTERN2_COPY_40_SKETCH_R)
    extrude(amount=-LPATTERN2_COPY_40_DEPTH, mode=Mode.SUBTRACT)

    # LPattern2 copy 41 sketch → LPattern2 copy 41 (cut, through all)
    with BuildSketch(Plane(origin=(240, 46, 6.35), x_dir=(1, 0, 0), z_dir=(0, 0, 1))):
        with Locations((-126, -34.5)):
            Circle(LPATTERN2_COPY_41_SKETCH_R)
    extrude(amount=-LPATTERN2_COPY_41_DEPTH, mode=Mode.SUBTRACT)

    # LPattern2 copy 42 sketch → LPattern2 copy 42 (cut, through all)
    with BuildSketch(Plane(origin=(240, 92, 6.35), x_dir=(1, 0, 0), z_dir=(0, 0, 1))):
        with Locations((-126, -34.5)):
            Circle(LPATTERN2_COPY_42_SKETCH_R)
    extrude(amount=-LPATTERN2_COPY_42_DEPTH, mode=Mode.SUBTRACT)

    # LPattern2 copy 43 sketch → LPattern2 copy 43 (cut, through all)
    with BuildSketch(Plane(origin=(264, 46, 6.35), x_dir=(1, 0, 0), z_dir=(0, 0, 1))):
        with Locations((-126, -34.5)):
            Circle(LPATTERN2_COPY_43_SKETCH_R)
    extrude(amount=-LPATTERN2_COPY_43_DEPTH, mode=Mode.SUBTRACT)

    # LPattern2 copy 44 sketch → LPattern2 copy 44 (cut, through all)
    with BuildSketch(Plane(origin=(264, 92, 6.35), x_dir=(1, 0, 0), z_dir=(0, 0, 1))):
        with Locations((-126, -34.5)):
            Circle(LPATTERN2_COPY_44_SKETCH_R)
    extrude(amount=-LPATTERN2_COPY_44_DEPTH, mode=Mode.SUBTRACT)

    # Sketch5 → Cut-Extrude3 (cut, through all)
    with BuildSketch(Plane(origin=(0, 0, 0), x_dir=(-1, 0, 0), z_dir=(0, 0, -1))):
        with Locations((170.59999995, 85.1)):
            Circle(SKETCH5_R)
        with Locations((170.59999995, 78.75)):
            Circle(SKETCH5_R)
        with Locations((170.59999995, -34.9)):
            Circle(SKETCH5_R)
        with Locations((170.59999995, -41.25)):
            Circle(SKETCH5_R)
        with Locations((-160.59999995, 85.1)):
            Circle(SKETCH5_R)
        with Locations((-160.59999995, 78.75)):
            Circle(SKETCH5_R)
        with Locations((-160.59999995, -34.9)):
            Circle(SKETCH5_R)
        with Locations((-160.59999995, -41.25)):
            Circle(SKETCH5_R)
    extrude(amount=-CUT_EXTRUDE3_DEPTH, mode=Mode.SUBTRACT)


solid = part.part
